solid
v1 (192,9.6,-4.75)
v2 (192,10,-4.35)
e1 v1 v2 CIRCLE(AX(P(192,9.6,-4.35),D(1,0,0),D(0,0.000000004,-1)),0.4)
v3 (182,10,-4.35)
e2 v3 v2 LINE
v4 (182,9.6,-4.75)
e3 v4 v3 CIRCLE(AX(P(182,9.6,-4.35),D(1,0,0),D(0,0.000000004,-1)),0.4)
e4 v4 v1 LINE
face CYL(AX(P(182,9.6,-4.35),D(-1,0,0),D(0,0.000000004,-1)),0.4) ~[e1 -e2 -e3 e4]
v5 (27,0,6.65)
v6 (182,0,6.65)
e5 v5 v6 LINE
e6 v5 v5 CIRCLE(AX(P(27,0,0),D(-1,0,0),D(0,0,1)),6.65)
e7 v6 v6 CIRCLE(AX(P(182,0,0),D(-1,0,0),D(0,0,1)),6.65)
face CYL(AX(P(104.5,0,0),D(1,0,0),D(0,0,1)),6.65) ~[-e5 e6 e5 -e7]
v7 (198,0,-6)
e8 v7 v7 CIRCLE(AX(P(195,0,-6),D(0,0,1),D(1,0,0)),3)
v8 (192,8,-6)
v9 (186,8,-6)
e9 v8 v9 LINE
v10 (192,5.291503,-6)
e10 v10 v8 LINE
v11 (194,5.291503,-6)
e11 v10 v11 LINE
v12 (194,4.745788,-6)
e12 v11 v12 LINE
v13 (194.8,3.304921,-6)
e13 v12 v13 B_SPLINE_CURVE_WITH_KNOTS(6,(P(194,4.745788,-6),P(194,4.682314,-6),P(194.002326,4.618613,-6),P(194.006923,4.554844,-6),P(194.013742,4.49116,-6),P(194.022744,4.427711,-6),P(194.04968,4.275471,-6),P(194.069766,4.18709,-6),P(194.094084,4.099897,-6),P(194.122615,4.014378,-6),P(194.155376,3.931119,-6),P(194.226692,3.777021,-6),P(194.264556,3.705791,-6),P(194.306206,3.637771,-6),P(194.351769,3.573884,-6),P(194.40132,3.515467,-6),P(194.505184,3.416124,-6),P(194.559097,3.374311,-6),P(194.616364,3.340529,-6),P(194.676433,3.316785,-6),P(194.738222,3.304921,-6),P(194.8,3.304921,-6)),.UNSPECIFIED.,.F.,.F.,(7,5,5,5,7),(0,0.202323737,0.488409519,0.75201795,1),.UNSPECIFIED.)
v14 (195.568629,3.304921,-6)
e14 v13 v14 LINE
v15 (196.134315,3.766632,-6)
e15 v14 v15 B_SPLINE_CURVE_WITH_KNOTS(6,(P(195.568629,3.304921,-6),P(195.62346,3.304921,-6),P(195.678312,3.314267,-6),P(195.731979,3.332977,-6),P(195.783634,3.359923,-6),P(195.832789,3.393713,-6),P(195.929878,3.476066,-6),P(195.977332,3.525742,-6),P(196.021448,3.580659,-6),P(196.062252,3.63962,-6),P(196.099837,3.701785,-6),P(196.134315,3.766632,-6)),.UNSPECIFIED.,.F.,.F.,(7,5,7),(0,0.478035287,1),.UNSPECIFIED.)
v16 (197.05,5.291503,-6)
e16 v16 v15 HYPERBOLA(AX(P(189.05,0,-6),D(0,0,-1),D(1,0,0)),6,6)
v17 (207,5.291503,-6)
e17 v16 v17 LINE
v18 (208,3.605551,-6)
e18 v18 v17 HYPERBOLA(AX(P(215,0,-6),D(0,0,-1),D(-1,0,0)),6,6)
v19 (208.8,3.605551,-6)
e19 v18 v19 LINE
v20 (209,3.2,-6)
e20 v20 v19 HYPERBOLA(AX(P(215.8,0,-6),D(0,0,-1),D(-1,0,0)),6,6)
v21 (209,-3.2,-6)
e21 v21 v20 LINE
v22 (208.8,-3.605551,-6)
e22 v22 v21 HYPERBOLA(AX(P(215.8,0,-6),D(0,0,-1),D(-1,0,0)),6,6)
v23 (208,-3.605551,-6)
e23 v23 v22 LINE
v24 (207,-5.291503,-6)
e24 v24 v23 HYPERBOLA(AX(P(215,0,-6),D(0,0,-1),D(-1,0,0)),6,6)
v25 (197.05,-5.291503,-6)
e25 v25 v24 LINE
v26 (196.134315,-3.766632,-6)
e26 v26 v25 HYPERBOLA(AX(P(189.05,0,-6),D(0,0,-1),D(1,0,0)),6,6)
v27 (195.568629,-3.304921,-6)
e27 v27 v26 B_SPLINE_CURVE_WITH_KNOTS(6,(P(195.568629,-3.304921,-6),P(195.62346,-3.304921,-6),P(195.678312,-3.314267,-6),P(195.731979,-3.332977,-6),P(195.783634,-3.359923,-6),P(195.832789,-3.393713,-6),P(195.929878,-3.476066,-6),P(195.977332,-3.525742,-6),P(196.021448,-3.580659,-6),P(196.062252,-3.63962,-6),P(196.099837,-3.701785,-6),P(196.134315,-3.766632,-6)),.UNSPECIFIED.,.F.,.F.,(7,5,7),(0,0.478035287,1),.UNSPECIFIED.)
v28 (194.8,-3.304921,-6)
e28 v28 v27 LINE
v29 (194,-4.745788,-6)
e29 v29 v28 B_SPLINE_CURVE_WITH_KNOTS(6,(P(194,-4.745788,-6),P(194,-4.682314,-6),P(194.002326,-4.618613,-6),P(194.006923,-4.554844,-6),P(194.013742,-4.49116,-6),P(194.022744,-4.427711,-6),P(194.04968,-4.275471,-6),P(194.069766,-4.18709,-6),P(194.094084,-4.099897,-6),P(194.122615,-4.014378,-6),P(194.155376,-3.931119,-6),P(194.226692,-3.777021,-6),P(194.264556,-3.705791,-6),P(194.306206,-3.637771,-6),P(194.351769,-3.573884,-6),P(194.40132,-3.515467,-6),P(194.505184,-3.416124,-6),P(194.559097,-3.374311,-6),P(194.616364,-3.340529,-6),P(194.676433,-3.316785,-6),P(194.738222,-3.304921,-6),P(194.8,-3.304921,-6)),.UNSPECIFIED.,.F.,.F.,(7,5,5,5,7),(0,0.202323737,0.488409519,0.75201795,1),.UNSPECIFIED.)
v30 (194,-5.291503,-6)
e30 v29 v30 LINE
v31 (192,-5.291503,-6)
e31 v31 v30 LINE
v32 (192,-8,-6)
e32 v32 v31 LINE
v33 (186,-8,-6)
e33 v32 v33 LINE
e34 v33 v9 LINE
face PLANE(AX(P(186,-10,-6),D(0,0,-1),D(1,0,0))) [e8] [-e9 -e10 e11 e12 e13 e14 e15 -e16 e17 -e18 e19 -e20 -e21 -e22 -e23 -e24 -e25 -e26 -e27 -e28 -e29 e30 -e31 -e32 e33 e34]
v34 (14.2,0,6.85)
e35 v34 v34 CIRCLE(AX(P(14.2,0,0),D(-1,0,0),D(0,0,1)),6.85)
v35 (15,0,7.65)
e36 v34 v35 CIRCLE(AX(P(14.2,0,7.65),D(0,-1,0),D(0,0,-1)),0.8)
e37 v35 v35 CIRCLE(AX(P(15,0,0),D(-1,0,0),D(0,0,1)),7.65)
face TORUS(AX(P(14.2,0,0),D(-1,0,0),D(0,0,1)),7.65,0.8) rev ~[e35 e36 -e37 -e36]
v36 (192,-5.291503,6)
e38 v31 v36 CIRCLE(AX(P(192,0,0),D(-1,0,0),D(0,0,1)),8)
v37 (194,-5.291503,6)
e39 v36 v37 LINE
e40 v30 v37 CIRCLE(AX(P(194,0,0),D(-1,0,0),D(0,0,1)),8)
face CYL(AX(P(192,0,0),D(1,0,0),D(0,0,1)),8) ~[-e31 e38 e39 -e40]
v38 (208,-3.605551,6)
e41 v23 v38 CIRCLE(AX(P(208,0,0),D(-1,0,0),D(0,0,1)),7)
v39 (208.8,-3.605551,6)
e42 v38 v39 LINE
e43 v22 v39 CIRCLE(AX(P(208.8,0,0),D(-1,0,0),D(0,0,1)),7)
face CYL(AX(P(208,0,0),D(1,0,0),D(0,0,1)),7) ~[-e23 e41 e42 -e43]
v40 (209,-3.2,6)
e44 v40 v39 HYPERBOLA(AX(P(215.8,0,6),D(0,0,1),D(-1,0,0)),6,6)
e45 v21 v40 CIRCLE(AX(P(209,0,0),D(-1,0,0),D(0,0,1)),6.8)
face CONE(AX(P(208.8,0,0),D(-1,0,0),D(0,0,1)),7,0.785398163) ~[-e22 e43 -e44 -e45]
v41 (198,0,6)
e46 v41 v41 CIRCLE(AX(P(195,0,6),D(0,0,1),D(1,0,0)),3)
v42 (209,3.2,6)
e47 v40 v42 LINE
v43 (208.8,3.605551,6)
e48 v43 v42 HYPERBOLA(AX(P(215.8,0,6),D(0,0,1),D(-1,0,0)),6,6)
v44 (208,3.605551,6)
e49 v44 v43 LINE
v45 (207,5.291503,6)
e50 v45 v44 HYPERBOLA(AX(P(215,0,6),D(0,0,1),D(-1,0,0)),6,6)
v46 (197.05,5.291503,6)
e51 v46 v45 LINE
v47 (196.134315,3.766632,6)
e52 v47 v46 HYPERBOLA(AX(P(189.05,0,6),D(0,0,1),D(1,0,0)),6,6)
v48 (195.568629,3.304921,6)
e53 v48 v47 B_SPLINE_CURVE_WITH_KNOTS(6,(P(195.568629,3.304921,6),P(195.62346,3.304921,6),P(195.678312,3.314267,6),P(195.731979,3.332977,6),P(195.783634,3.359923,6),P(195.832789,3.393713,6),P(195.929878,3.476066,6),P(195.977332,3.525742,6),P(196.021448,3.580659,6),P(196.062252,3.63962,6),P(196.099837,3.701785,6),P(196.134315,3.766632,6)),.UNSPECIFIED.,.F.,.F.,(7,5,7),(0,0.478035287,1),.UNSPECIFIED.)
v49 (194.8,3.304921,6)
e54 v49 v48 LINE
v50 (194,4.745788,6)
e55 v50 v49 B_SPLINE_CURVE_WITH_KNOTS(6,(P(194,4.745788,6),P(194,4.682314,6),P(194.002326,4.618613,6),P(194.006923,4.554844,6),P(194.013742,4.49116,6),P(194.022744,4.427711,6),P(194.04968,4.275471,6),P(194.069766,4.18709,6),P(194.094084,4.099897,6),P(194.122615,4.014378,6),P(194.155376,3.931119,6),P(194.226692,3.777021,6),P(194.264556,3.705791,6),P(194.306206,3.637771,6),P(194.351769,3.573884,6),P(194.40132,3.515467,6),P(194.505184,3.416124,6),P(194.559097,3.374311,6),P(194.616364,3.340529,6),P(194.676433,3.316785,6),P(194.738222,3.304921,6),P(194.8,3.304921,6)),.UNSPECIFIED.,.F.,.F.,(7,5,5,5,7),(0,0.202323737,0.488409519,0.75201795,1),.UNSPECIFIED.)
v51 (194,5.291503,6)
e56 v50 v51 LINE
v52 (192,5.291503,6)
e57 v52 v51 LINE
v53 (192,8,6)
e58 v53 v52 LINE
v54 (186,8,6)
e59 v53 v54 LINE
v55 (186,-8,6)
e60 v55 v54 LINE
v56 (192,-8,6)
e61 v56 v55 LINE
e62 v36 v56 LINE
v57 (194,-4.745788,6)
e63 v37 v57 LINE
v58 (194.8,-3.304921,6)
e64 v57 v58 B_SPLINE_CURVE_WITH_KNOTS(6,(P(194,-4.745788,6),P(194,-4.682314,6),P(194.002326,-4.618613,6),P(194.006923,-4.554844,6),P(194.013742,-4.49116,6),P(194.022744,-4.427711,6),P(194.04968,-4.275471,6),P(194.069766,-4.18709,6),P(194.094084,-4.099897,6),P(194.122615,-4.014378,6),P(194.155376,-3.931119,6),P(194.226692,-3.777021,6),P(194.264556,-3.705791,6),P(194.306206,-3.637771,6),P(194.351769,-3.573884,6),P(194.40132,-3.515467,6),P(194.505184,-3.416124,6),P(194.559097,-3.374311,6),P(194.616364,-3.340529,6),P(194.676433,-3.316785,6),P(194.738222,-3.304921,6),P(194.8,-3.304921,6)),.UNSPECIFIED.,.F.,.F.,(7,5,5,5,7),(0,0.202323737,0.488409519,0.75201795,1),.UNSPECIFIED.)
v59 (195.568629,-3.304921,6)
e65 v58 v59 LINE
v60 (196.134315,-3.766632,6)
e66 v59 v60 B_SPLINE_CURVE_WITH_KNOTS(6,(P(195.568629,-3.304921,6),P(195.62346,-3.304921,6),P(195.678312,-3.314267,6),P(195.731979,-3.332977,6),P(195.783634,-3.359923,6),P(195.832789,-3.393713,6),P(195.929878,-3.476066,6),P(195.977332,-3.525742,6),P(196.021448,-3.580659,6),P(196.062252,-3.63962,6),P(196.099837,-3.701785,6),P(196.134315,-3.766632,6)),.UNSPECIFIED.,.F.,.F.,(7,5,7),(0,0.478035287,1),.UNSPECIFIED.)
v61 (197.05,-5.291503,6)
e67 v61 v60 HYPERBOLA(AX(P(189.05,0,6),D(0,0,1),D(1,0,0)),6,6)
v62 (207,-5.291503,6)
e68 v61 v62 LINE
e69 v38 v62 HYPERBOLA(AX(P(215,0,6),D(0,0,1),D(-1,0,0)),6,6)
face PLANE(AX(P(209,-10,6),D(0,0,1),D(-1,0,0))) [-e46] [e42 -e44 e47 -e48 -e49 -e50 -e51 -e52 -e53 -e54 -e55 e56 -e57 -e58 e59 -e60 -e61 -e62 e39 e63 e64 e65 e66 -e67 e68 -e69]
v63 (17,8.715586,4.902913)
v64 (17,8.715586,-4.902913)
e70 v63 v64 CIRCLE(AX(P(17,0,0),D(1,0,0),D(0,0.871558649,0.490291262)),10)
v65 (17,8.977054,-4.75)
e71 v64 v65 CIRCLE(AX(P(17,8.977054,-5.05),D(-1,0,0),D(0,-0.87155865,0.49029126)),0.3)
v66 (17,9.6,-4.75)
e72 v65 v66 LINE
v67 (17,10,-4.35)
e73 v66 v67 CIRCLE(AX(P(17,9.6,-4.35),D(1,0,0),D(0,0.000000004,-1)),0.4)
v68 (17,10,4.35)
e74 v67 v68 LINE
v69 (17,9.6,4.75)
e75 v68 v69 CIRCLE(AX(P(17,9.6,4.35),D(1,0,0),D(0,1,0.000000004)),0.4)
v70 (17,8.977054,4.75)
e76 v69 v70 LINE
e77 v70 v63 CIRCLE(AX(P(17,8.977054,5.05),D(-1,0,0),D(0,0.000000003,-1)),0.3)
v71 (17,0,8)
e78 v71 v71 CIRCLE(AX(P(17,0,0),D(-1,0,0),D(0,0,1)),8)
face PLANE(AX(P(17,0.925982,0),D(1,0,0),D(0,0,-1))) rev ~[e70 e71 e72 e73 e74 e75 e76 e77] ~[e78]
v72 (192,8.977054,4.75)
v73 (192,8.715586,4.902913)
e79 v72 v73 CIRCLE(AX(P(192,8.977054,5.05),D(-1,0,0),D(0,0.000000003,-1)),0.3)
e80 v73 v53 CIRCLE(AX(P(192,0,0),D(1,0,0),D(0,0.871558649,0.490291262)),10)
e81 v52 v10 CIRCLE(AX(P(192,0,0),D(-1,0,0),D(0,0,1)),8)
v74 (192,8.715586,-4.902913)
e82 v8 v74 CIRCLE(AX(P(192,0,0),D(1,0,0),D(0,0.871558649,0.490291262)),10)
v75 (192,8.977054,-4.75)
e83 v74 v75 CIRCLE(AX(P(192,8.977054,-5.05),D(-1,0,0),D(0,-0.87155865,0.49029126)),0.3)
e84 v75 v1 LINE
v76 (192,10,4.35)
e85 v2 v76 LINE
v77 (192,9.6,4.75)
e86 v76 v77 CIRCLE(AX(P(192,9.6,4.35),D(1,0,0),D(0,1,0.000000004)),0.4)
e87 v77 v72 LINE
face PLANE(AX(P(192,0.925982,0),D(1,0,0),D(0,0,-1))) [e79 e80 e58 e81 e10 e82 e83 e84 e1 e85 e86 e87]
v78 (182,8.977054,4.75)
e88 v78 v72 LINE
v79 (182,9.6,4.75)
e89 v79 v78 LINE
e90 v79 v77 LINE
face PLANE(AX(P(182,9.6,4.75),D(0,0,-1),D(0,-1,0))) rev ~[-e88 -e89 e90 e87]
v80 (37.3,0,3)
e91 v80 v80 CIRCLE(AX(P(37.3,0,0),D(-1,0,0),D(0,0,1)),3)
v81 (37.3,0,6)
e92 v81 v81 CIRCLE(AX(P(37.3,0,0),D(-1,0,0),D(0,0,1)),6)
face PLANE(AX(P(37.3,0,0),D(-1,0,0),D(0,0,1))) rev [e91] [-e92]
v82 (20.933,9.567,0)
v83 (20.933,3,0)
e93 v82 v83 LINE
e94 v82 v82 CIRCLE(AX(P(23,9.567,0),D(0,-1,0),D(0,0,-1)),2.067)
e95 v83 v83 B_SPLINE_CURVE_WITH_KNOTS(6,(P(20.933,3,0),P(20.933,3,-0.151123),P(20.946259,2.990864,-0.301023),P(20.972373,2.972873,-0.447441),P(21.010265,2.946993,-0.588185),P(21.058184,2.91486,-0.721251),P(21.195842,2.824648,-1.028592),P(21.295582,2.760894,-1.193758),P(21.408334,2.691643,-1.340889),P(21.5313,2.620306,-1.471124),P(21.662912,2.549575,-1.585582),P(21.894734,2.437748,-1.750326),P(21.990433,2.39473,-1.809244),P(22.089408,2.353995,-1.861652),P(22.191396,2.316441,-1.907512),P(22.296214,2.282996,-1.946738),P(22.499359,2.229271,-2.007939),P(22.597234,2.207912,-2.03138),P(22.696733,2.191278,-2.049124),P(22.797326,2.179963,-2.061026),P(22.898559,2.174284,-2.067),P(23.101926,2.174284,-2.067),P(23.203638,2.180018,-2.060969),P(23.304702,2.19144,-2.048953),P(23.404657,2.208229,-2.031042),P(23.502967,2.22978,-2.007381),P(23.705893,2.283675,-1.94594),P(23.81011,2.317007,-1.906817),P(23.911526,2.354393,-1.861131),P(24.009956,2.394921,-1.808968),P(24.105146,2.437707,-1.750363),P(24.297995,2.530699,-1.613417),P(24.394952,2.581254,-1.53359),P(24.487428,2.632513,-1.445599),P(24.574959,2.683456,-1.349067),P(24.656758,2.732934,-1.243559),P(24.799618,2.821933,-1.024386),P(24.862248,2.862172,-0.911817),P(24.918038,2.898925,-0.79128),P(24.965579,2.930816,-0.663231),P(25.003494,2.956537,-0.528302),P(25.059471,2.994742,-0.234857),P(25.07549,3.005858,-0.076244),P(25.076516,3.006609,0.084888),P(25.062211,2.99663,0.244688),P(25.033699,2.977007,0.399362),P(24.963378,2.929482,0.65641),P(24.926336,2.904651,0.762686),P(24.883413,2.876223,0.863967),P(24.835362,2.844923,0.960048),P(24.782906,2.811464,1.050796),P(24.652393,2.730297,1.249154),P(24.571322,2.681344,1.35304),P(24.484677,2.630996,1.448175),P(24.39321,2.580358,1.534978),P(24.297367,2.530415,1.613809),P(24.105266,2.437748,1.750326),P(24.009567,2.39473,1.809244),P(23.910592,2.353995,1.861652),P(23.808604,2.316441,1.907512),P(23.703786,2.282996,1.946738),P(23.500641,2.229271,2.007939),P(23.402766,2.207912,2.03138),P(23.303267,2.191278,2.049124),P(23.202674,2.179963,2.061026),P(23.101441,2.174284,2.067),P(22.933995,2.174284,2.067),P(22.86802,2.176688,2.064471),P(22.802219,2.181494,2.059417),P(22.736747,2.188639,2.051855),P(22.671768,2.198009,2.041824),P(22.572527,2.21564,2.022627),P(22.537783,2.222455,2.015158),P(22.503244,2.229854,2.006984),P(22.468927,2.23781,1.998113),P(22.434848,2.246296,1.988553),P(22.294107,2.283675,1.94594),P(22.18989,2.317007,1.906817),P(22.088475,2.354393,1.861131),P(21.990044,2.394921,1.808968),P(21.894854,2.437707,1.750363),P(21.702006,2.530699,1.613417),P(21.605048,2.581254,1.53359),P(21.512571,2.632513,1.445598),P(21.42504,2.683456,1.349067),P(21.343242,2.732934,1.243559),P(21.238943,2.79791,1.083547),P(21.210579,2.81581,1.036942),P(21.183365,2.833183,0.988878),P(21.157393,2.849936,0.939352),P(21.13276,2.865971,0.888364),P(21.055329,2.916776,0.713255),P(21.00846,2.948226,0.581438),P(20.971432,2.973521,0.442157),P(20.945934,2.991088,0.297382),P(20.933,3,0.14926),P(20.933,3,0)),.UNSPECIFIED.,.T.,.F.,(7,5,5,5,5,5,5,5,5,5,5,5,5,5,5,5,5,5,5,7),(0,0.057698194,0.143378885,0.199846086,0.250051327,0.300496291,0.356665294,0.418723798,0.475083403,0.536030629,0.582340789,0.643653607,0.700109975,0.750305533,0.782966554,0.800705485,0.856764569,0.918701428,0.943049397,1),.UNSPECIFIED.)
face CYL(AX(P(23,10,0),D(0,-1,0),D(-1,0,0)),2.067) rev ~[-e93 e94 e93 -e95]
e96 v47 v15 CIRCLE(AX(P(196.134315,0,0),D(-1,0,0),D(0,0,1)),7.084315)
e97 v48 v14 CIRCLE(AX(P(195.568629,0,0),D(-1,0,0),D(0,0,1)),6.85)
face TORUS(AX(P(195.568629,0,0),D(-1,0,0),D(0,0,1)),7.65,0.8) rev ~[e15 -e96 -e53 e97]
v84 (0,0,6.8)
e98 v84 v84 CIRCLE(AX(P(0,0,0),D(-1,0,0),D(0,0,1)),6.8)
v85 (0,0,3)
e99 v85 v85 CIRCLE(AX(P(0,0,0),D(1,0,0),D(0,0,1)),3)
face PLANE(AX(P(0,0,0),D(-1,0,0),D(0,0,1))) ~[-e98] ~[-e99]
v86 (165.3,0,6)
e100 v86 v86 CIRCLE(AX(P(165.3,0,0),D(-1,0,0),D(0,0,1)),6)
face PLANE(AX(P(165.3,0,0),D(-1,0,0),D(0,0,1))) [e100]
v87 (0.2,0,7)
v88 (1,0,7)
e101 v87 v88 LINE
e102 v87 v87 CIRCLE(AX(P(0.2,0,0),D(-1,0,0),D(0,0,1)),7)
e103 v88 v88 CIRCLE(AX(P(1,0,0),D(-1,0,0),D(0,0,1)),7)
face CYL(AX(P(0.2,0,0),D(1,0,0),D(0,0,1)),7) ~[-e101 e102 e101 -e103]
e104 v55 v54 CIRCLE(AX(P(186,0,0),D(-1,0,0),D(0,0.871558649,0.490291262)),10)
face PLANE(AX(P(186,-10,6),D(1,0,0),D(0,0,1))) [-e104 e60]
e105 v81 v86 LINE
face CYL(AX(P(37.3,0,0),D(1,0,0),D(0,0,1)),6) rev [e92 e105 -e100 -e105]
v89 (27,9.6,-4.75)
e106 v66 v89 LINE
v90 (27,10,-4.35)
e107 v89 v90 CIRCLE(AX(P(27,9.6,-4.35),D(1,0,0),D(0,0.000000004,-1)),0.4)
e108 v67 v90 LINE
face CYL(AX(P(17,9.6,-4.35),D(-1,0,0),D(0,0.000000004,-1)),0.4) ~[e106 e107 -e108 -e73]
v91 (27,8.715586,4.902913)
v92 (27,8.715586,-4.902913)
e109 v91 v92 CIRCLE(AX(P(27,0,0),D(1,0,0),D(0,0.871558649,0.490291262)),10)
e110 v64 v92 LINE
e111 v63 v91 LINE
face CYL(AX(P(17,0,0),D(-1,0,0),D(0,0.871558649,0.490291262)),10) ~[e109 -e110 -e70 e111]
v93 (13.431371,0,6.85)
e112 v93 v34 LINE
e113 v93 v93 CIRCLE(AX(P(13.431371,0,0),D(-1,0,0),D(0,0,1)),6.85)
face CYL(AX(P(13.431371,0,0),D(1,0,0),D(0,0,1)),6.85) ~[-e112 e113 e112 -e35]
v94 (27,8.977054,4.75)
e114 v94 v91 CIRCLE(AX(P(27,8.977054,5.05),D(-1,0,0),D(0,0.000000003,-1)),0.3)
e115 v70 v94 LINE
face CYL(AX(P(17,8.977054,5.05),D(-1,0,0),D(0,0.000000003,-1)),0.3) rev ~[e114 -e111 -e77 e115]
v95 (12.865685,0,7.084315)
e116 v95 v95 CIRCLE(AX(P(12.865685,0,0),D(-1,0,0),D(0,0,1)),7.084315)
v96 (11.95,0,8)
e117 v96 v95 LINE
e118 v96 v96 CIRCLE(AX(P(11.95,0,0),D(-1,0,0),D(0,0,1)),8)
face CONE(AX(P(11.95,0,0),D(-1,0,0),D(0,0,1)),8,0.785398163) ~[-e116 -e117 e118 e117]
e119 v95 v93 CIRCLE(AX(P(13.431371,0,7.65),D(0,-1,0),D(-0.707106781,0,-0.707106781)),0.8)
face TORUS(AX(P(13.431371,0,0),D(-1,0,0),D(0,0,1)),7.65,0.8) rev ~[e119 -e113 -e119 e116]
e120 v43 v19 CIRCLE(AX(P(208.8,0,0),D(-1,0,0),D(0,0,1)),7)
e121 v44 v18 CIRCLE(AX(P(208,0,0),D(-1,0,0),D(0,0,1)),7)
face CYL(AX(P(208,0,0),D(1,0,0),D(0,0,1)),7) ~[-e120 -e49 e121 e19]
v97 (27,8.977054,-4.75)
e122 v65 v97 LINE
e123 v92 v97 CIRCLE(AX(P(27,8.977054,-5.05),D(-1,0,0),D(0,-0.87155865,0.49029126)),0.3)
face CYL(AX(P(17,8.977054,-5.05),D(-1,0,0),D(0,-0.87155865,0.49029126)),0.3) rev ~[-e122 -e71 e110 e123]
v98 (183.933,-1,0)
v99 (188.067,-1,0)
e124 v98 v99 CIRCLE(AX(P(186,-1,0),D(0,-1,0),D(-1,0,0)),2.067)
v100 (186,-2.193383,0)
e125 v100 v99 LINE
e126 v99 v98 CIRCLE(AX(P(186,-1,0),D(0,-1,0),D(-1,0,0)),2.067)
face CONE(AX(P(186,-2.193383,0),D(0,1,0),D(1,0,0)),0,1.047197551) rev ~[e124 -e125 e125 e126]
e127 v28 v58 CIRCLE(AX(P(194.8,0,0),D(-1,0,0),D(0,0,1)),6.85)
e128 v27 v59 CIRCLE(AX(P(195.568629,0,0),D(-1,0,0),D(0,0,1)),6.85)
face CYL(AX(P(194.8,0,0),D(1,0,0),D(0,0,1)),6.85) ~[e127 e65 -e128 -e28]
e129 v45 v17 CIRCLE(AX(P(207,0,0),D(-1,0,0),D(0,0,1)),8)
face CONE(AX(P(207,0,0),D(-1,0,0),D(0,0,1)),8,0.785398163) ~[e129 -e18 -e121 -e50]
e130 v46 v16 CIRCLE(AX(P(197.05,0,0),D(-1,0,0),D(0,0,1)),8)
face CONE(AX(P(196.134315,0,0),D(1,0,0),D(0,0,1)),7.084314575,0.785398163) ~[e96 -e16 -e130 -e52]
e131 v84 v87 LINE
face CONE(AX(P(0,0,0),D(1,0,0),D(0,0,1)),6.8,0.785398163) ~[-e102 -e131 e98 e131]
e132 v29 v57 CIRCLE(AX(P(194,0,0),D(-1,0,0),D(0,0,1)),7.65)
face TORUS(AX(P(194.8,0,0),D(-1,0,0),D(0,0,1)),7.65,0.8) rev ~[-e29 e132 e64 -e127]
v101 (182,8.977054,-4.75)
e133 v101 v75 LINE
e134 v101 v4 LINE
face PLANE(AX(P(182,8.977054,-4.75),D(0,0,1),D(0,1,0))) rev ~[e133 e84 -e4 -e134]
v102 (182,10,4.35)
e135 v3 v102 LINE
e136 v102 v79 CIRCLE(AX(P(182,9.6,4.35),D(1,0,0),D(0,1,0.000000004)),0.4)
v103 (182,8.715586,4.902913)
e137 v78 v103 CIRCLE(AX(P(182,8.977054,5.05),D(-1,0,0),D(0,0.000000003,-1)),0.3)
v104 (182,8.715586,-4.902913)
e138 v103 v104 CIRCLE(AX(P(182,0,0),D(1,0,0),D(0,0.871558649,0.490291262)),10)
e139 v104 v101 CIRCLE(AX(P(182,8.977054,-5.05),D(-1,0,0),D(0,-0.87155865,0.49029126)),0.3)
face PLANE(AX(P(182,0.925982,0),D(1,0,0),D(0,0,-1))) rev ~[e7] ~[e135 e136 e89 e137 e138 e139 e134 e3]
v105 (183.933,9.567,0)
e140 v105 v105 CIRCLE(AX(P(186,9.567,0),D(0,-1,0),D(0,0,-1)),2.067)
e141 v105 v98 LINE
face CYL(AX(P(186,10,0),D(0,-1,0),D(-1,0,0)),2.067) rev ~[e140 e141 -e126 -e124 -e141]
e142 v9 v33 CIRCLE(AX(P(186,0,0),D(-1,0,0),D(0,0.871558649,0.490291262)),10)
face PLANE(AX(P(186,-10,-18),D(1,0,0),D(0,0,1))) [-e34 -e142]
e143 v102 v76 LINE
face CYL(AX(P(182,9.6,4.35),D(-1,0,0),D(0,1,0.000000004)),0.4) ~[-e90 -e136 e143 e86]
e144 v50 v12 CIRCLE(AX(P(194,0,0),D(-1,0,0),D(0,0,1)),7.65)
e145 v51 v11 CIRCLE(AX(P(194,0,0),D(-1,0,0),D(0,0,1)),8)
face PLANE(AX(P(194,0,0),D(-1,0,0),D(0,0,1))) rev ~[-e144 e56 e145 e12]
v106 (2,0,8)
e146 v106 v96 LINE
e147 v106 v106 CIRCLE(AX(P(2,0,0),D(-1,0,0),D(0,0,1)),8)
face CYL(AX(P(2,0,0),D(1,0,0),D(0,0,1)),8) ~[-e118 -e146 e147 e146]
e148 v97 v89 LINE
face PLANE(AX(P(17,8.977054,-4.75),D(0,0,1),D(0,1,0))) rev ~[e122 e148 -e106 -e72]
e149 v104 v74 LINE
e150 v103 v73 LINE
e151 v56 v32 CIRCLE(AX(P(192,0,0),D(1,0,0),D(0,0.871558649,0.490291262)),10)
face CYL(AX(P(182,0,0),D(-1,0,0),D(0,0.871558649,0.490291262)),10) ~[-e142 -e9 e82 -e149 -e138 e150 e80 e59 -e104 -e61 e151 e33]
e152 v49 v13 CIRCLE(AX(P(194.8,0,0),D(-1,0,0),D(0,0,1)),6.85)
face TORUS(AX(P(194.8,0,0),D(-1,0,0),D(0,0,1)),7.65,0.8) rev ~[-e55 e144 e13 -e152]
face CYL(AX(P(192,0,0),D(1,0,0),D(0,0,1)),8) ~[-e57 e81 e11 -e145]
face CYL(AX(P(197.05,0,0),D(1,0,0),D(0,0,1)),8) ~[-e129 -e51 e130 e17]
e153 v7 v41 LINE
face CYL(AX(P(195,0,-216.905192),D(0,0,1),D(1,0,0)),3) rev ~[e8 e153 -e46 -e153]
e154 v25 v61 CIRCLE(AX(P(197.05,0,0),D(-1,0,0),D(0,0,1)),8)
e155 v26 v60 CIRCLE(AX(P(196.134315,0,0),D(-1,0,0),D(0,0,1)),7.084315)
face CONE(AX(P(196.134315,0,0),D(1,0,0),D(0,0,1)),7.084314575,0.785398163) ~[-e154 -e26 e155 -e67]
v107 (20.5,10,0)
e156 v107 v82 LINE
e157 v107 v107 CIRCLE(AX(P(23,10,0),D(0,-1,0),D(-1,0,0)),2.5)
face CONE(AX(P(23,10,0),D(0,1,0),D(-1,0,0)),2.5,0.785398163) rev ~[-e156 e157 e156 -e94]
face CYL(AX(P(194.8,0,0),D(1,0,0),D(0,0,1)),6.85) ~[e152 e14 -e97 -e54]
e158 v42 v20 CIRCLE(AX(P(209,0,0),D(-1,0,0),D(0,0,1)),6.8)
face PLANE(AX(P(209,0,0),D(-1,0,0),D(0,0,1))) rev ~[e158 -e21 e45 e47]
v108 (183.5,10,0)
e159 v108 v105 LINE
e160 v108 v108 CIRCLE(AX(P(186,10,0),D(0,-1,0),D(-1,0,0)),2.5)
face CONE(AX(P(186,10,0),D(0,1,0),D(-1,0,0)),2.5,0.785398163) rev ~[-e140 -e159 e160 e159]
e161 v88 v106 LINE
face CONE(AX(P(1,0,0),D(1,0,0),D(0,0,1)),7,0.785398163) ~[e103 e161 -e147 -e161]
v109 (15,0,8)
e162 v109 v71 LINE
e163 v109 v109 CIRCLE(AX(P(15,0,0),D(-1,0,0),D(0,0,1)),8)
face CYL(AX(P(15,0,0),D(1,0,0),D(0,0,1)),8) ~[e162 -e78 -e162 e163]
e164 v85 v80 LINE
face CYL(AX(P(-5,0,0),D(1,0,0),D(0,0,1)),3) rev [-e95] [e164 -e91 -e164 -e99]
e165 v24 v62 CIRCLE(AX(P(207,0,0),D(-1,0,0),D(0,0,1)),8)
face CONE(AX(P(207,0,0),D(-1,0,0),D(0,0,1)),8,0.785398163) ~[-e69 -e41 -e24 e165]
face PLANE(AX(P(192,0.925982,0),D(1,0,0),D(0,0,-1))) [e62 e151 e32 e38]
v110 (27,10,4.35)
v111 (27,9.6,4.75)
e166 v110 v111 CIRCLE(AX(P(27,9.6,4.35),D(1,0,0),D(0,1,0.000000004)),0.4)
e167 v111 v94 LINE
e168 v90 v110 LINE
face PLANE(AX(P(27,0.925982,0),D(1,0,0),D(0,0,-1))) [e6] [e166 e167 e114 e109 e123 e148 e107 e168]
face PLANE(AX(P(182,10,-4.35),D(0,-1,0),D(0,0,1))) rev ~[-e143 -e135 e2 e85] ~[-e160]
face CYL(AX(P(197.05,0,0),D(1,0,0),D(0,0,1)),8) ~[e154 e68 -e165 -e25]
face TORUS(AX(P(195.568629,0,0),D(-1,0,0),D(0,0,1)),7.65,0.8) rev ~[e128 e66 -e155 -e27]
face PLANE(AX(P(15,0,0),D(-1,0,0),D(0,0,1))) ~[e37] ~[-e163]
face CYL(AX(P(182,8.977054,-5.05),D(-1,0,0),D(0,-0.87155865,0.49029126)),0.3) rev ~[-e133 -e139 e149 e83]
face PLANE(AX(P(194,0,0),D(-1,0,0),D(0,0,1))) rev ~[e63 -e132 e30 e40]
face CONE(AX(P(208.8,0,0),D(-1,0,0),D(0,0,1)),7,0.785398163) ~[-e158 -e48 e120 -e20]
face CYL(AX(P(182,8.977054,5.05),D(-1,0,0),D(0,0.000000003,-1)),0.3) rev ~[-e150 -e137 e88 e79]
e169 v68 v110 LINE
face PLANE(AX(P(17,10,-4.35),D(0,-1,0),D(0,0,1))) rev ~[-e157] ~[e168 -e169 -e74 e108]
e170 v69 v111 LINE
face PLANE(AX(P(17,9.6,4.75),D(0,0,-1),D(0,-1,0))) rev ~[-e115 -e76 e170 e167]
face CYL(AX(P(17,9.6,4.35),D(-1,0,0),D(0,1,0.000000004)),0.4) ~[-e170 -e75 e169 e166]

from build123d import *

# Parameters (mm, degrees)
AUFSATZ_LINEAR_AUSTRAGEN1_DEPTH      = 10
SKIZZE3_W                            = 155
SKIZZE3_H                            = 6.65
AUFSATZ_LINEAR_AUSTRAGEN2_DEPTH      = 10
SCHNITT_LINEAR_AUSTRAGEN1_DEPTH      = 10
SCHNITT_LINEAR_AUSTRAGEN1_DEPTH_BACK = 10
BOHRUNG1_D                           = 6
BOHRUNG2_D                           = 4.134
BOHRUNG2_DEPTH                       = 10
BOHRUNG2_CSINK_D                     = 5
BOHRUNG2_CSINK_ANGLE                 = 90
BOHRUNG3_D                           = 4.134
BOHRUNG3_DEPTH                       = 11
BOHRUNG3_CSINK_D                     = 5
BOHRUNG3_CSINK_ANGLE                 = 90
BOHRUNG3_TIP                         = 1.193383006


with BuildPart() as part:
    # Skizze1 → Rotation1 (revolve)
    with BuildSketch(Plane.XY, mode=Mode.PRIVATE) as rotation1_sk:
        with BuildLine():
            Line((0, 0), (0, 6.8))
            Line((0, 6.8), (0.2, 7))
            Line((0.2, 7), (1, 7))
            Line((1, 7), (2, 8))
            Line((2, 8), (11.95, 8))
            Line((11.95, 8), (12.865685425, 7.084314575))
            ThreePointArc((12.865685425, 7.084314575), (13.125224104, 6.910896374), (13.43137085, 6.85))
            Line((13.43137085, 6.85), (14.2, 6.85))
            ThreePointArc((14.2, 6.85), (14.765685425, 7.084314575), (15, 7.65))
            Line((15, 7.65), (15, 8))
            Line((15, 8), (17, 8))
            Line((17, 8), (17, 0))
            Line((17, 0), (0, 0))
        make_face()
    revolve(rotation1_sk.sketch.rotate(Axis((17, 0, 0), (-1, 0, 0)), 270), axis=Axis((17, 0, 0), (-1, 0, 0)))

    # Skizze2 → Aufsatz-Linear austragen1 (add)
    with BuildSketch(Plane(origin=(17, 0, 0), x_dir=(0, 0, -1), z_dir=(1, 0, 0))):
        with BuildLine():
            Line((4.75, 8.977054082), (4.75, 9.6))
            ThreePointArc((4.75, 9.6), (4.632842712, 9.882842712), (4.35, 10))
            Line((4.35, 10), (-4.35, 10))
            ThreePointArc((-4.35, 10), (-4.632842712, 9.882842712), (-4.75, 9.6))
            Line((-4.75, 9.6), (-4.75, 8.977054082))
            ThreePointArc((-4.75, 8.977054082), (-4.791034545, 8.825604773), (-4.902912621, 8.715586488))
            ThreePointArc((-4.902912621, 8.715586488), (0, -10), (4.902912621, 8.715586488))
            ThreePointArc((4.902912621, 8.715586488), (4.791034545, 8.825604773), (4.75, 8.977054082))
        make_face()
    extrude(amount=AUFSATZ_LINEAR_AUSTRAGEN1_DEPTH)

    # Skizze3 → Rotation2 (revolve)
    with BuildSketch(Plane.XY, mode=Mode.PRIVATE) as rotation2_sk:
        with Locations((104.5, 3.325)):
            Rectangle(SKIZZE3_W, SKIZZE3_H)
    revolve(rotation2_sk.sketch.rotate(Axis((182, 0, 0), (-1, 0, 0)), 270), axis=Axis((182, 0, 0), (-1, 0, 0)))

    # Skizze4 → Aufsatz-Linear austragen2 (add)
    with BuildSketch(Plane(origin=(182, 0, 0), x_dir=(0, 0, -1), z_dir=(1, 0, 0))):
        with BuildLine():
            Line((4.75, 8.977054082), (4.75, 9.6))
            ThreePointArc((4.75, 9.6), (4.632842712, 9.882842712), (4.35, 10))
            Line((4.35, 10), (-4.35, 10))
            ThreePointArc((-4.35, 10), (-4.632842712, 9.882842712), (-4.75, 9.6))
            Line((-4.75, 9.6), (-4.75, 8.977054082))
            ThreePointArc((-4.75, 8.977054082), (-4.791034545, 8.825604773), (-4.902912621, 8.715586488))
            ThreePointArc((-4.902912621, 8.715586488), (0, -10), (4.902912621, 8.715586488))
            ThreePointArc((4.902912621, 8.715586488), (4.791034545, 8.825604773), (4.75, 8.977054082))
        make_face()
    extrude(amount=AUFSATZ_LINEAR_AUSTRAGEN2_DEPTH)

    # Skizze5 → Rotation3 (revolve)
    with BuildSketch(Plane.XY, mode=Mode.PRIVATE) as rotation3_sk:
        with BuildLine():
            Line((192, 0), (192, 8))
            Line((192, 8), (194, 8))
            Line((194, 8), (194, 7.65))
            ThreePointArc((194, 7.65), (194.234314575, 7.084314575), (194.8, 6.85))
            Line((194.8, 6.85), (195.56862915, 6.85))
            ThreePointArc((195.56862915, 6.85), (195.874775896, 6.910896374), (196.134314575, 7.084314575))
            Line((196.134314575, 7.084314575), (197.05, 8))
            Line((197.05, 8), (207, 8))
            Line((207, 8), (208, 7))
            Line((208, 7), (208.8, 7))
            Line((208.8, 7), (209, 6.8))
            Line((209, 6.8), (209, 0))
            Line((209, 0), (192, 0))
        make_face()
    revolve(rotation3_sk.sketch.rotate(Axis((209, 0, 0), (-1, 0, 0)), 270), axis=Axis((209, 0, 0), (-1, 0, 0)))

    # Skizze6 → Schnitt-Linear austragen1 (cut, two sides: drawn at the far end of the back side and taken through both)
    with BuildSketch(Plane(origin=(0, 0, 0), x_dir=(1, 0, 0), z_dir=(0, 1, 0)).offset(-SCHNITT_LINEAR_AUSTRAGEN1_DEPTH_BACK)):
        Polygon((186, 18), (186, 6), (209, 6), (209, -6), (186, -6), (186, -18), (221, -18), (221, 18), align=None)
    extrude(amount=SCHNITT_LINEAR_AUSTRAGEN1_DEPTH + SCHNITT_LINEAR_AUSTRAGEN1_DEPTH_BACK, mode=Mode.SUBTRACT)

    # Bohrung1 (through all)
    with Locations(Plane(origin=(0, 0, -6), x_dir=(-1, 0, 0), z_dir=(0, 0, -1))):
        with Locations((-195, 0)):
            Hole(BOHRUNG1_D / 2)

    # Bohrung2
    with Locations(Plane(origin=(0, 10, 0), x_dir=(1, 0, 0), z_dir=(0, 1, 0))):
        with Locations((23, 0)):
            CounterSinkHole(BOHRUNG2_D / 2, BOHRUNG2_CSINK_D / 2, depth=BOHRUNG2_DEPTH, counter_sink_angle=BOHRUNG2_CSINK_ANGLE)

    # Bohrung3
    with Locations(Plane(origin=(0, 10, 0), x_dir=(1, 0, 0), z_dir=(0, 1, 0))):
        with Locations((186, 0)):
            CounterSinkHole(BOHRUNG3_D / 2, BOHRUNG3_CSINK_D / 2, depth=BOHRUNG3_DEPTH, counter_sink_angle=BOHRUNG3_CSINK_ANGLE)
            with Locations((0, 0, -(BOHRUNG3_DEPTH + BOHRUNG3_TIP / 2))):  # 120° drill point
                Cone(0, BOHRUNG3_D / 2, BOHRUNG3_TIP, mode=Mode.SUBTRACT)

    # Skizze13 → Schnitt-Rotation1 (revolve, cut)
    with BuildSketch(Plane.XY, mode=Mode.PRIVATE) as schnitt_rotation1_sk:
        Polygon((-5, 0), (-5, 3), (37.3, 3), (37.3, 6), (165.3, 6), (165.3, 0), align=None)
    revolve(schnitt_rotation1_sk.sketch.rotate(Axis((165.3, 0, 0), (-1, 0, 0)), 270), axis=Axis((165.3, 0, 0), (-1, 0, 0)), mode=Mode.SUBTRACT)


solid = part.part
